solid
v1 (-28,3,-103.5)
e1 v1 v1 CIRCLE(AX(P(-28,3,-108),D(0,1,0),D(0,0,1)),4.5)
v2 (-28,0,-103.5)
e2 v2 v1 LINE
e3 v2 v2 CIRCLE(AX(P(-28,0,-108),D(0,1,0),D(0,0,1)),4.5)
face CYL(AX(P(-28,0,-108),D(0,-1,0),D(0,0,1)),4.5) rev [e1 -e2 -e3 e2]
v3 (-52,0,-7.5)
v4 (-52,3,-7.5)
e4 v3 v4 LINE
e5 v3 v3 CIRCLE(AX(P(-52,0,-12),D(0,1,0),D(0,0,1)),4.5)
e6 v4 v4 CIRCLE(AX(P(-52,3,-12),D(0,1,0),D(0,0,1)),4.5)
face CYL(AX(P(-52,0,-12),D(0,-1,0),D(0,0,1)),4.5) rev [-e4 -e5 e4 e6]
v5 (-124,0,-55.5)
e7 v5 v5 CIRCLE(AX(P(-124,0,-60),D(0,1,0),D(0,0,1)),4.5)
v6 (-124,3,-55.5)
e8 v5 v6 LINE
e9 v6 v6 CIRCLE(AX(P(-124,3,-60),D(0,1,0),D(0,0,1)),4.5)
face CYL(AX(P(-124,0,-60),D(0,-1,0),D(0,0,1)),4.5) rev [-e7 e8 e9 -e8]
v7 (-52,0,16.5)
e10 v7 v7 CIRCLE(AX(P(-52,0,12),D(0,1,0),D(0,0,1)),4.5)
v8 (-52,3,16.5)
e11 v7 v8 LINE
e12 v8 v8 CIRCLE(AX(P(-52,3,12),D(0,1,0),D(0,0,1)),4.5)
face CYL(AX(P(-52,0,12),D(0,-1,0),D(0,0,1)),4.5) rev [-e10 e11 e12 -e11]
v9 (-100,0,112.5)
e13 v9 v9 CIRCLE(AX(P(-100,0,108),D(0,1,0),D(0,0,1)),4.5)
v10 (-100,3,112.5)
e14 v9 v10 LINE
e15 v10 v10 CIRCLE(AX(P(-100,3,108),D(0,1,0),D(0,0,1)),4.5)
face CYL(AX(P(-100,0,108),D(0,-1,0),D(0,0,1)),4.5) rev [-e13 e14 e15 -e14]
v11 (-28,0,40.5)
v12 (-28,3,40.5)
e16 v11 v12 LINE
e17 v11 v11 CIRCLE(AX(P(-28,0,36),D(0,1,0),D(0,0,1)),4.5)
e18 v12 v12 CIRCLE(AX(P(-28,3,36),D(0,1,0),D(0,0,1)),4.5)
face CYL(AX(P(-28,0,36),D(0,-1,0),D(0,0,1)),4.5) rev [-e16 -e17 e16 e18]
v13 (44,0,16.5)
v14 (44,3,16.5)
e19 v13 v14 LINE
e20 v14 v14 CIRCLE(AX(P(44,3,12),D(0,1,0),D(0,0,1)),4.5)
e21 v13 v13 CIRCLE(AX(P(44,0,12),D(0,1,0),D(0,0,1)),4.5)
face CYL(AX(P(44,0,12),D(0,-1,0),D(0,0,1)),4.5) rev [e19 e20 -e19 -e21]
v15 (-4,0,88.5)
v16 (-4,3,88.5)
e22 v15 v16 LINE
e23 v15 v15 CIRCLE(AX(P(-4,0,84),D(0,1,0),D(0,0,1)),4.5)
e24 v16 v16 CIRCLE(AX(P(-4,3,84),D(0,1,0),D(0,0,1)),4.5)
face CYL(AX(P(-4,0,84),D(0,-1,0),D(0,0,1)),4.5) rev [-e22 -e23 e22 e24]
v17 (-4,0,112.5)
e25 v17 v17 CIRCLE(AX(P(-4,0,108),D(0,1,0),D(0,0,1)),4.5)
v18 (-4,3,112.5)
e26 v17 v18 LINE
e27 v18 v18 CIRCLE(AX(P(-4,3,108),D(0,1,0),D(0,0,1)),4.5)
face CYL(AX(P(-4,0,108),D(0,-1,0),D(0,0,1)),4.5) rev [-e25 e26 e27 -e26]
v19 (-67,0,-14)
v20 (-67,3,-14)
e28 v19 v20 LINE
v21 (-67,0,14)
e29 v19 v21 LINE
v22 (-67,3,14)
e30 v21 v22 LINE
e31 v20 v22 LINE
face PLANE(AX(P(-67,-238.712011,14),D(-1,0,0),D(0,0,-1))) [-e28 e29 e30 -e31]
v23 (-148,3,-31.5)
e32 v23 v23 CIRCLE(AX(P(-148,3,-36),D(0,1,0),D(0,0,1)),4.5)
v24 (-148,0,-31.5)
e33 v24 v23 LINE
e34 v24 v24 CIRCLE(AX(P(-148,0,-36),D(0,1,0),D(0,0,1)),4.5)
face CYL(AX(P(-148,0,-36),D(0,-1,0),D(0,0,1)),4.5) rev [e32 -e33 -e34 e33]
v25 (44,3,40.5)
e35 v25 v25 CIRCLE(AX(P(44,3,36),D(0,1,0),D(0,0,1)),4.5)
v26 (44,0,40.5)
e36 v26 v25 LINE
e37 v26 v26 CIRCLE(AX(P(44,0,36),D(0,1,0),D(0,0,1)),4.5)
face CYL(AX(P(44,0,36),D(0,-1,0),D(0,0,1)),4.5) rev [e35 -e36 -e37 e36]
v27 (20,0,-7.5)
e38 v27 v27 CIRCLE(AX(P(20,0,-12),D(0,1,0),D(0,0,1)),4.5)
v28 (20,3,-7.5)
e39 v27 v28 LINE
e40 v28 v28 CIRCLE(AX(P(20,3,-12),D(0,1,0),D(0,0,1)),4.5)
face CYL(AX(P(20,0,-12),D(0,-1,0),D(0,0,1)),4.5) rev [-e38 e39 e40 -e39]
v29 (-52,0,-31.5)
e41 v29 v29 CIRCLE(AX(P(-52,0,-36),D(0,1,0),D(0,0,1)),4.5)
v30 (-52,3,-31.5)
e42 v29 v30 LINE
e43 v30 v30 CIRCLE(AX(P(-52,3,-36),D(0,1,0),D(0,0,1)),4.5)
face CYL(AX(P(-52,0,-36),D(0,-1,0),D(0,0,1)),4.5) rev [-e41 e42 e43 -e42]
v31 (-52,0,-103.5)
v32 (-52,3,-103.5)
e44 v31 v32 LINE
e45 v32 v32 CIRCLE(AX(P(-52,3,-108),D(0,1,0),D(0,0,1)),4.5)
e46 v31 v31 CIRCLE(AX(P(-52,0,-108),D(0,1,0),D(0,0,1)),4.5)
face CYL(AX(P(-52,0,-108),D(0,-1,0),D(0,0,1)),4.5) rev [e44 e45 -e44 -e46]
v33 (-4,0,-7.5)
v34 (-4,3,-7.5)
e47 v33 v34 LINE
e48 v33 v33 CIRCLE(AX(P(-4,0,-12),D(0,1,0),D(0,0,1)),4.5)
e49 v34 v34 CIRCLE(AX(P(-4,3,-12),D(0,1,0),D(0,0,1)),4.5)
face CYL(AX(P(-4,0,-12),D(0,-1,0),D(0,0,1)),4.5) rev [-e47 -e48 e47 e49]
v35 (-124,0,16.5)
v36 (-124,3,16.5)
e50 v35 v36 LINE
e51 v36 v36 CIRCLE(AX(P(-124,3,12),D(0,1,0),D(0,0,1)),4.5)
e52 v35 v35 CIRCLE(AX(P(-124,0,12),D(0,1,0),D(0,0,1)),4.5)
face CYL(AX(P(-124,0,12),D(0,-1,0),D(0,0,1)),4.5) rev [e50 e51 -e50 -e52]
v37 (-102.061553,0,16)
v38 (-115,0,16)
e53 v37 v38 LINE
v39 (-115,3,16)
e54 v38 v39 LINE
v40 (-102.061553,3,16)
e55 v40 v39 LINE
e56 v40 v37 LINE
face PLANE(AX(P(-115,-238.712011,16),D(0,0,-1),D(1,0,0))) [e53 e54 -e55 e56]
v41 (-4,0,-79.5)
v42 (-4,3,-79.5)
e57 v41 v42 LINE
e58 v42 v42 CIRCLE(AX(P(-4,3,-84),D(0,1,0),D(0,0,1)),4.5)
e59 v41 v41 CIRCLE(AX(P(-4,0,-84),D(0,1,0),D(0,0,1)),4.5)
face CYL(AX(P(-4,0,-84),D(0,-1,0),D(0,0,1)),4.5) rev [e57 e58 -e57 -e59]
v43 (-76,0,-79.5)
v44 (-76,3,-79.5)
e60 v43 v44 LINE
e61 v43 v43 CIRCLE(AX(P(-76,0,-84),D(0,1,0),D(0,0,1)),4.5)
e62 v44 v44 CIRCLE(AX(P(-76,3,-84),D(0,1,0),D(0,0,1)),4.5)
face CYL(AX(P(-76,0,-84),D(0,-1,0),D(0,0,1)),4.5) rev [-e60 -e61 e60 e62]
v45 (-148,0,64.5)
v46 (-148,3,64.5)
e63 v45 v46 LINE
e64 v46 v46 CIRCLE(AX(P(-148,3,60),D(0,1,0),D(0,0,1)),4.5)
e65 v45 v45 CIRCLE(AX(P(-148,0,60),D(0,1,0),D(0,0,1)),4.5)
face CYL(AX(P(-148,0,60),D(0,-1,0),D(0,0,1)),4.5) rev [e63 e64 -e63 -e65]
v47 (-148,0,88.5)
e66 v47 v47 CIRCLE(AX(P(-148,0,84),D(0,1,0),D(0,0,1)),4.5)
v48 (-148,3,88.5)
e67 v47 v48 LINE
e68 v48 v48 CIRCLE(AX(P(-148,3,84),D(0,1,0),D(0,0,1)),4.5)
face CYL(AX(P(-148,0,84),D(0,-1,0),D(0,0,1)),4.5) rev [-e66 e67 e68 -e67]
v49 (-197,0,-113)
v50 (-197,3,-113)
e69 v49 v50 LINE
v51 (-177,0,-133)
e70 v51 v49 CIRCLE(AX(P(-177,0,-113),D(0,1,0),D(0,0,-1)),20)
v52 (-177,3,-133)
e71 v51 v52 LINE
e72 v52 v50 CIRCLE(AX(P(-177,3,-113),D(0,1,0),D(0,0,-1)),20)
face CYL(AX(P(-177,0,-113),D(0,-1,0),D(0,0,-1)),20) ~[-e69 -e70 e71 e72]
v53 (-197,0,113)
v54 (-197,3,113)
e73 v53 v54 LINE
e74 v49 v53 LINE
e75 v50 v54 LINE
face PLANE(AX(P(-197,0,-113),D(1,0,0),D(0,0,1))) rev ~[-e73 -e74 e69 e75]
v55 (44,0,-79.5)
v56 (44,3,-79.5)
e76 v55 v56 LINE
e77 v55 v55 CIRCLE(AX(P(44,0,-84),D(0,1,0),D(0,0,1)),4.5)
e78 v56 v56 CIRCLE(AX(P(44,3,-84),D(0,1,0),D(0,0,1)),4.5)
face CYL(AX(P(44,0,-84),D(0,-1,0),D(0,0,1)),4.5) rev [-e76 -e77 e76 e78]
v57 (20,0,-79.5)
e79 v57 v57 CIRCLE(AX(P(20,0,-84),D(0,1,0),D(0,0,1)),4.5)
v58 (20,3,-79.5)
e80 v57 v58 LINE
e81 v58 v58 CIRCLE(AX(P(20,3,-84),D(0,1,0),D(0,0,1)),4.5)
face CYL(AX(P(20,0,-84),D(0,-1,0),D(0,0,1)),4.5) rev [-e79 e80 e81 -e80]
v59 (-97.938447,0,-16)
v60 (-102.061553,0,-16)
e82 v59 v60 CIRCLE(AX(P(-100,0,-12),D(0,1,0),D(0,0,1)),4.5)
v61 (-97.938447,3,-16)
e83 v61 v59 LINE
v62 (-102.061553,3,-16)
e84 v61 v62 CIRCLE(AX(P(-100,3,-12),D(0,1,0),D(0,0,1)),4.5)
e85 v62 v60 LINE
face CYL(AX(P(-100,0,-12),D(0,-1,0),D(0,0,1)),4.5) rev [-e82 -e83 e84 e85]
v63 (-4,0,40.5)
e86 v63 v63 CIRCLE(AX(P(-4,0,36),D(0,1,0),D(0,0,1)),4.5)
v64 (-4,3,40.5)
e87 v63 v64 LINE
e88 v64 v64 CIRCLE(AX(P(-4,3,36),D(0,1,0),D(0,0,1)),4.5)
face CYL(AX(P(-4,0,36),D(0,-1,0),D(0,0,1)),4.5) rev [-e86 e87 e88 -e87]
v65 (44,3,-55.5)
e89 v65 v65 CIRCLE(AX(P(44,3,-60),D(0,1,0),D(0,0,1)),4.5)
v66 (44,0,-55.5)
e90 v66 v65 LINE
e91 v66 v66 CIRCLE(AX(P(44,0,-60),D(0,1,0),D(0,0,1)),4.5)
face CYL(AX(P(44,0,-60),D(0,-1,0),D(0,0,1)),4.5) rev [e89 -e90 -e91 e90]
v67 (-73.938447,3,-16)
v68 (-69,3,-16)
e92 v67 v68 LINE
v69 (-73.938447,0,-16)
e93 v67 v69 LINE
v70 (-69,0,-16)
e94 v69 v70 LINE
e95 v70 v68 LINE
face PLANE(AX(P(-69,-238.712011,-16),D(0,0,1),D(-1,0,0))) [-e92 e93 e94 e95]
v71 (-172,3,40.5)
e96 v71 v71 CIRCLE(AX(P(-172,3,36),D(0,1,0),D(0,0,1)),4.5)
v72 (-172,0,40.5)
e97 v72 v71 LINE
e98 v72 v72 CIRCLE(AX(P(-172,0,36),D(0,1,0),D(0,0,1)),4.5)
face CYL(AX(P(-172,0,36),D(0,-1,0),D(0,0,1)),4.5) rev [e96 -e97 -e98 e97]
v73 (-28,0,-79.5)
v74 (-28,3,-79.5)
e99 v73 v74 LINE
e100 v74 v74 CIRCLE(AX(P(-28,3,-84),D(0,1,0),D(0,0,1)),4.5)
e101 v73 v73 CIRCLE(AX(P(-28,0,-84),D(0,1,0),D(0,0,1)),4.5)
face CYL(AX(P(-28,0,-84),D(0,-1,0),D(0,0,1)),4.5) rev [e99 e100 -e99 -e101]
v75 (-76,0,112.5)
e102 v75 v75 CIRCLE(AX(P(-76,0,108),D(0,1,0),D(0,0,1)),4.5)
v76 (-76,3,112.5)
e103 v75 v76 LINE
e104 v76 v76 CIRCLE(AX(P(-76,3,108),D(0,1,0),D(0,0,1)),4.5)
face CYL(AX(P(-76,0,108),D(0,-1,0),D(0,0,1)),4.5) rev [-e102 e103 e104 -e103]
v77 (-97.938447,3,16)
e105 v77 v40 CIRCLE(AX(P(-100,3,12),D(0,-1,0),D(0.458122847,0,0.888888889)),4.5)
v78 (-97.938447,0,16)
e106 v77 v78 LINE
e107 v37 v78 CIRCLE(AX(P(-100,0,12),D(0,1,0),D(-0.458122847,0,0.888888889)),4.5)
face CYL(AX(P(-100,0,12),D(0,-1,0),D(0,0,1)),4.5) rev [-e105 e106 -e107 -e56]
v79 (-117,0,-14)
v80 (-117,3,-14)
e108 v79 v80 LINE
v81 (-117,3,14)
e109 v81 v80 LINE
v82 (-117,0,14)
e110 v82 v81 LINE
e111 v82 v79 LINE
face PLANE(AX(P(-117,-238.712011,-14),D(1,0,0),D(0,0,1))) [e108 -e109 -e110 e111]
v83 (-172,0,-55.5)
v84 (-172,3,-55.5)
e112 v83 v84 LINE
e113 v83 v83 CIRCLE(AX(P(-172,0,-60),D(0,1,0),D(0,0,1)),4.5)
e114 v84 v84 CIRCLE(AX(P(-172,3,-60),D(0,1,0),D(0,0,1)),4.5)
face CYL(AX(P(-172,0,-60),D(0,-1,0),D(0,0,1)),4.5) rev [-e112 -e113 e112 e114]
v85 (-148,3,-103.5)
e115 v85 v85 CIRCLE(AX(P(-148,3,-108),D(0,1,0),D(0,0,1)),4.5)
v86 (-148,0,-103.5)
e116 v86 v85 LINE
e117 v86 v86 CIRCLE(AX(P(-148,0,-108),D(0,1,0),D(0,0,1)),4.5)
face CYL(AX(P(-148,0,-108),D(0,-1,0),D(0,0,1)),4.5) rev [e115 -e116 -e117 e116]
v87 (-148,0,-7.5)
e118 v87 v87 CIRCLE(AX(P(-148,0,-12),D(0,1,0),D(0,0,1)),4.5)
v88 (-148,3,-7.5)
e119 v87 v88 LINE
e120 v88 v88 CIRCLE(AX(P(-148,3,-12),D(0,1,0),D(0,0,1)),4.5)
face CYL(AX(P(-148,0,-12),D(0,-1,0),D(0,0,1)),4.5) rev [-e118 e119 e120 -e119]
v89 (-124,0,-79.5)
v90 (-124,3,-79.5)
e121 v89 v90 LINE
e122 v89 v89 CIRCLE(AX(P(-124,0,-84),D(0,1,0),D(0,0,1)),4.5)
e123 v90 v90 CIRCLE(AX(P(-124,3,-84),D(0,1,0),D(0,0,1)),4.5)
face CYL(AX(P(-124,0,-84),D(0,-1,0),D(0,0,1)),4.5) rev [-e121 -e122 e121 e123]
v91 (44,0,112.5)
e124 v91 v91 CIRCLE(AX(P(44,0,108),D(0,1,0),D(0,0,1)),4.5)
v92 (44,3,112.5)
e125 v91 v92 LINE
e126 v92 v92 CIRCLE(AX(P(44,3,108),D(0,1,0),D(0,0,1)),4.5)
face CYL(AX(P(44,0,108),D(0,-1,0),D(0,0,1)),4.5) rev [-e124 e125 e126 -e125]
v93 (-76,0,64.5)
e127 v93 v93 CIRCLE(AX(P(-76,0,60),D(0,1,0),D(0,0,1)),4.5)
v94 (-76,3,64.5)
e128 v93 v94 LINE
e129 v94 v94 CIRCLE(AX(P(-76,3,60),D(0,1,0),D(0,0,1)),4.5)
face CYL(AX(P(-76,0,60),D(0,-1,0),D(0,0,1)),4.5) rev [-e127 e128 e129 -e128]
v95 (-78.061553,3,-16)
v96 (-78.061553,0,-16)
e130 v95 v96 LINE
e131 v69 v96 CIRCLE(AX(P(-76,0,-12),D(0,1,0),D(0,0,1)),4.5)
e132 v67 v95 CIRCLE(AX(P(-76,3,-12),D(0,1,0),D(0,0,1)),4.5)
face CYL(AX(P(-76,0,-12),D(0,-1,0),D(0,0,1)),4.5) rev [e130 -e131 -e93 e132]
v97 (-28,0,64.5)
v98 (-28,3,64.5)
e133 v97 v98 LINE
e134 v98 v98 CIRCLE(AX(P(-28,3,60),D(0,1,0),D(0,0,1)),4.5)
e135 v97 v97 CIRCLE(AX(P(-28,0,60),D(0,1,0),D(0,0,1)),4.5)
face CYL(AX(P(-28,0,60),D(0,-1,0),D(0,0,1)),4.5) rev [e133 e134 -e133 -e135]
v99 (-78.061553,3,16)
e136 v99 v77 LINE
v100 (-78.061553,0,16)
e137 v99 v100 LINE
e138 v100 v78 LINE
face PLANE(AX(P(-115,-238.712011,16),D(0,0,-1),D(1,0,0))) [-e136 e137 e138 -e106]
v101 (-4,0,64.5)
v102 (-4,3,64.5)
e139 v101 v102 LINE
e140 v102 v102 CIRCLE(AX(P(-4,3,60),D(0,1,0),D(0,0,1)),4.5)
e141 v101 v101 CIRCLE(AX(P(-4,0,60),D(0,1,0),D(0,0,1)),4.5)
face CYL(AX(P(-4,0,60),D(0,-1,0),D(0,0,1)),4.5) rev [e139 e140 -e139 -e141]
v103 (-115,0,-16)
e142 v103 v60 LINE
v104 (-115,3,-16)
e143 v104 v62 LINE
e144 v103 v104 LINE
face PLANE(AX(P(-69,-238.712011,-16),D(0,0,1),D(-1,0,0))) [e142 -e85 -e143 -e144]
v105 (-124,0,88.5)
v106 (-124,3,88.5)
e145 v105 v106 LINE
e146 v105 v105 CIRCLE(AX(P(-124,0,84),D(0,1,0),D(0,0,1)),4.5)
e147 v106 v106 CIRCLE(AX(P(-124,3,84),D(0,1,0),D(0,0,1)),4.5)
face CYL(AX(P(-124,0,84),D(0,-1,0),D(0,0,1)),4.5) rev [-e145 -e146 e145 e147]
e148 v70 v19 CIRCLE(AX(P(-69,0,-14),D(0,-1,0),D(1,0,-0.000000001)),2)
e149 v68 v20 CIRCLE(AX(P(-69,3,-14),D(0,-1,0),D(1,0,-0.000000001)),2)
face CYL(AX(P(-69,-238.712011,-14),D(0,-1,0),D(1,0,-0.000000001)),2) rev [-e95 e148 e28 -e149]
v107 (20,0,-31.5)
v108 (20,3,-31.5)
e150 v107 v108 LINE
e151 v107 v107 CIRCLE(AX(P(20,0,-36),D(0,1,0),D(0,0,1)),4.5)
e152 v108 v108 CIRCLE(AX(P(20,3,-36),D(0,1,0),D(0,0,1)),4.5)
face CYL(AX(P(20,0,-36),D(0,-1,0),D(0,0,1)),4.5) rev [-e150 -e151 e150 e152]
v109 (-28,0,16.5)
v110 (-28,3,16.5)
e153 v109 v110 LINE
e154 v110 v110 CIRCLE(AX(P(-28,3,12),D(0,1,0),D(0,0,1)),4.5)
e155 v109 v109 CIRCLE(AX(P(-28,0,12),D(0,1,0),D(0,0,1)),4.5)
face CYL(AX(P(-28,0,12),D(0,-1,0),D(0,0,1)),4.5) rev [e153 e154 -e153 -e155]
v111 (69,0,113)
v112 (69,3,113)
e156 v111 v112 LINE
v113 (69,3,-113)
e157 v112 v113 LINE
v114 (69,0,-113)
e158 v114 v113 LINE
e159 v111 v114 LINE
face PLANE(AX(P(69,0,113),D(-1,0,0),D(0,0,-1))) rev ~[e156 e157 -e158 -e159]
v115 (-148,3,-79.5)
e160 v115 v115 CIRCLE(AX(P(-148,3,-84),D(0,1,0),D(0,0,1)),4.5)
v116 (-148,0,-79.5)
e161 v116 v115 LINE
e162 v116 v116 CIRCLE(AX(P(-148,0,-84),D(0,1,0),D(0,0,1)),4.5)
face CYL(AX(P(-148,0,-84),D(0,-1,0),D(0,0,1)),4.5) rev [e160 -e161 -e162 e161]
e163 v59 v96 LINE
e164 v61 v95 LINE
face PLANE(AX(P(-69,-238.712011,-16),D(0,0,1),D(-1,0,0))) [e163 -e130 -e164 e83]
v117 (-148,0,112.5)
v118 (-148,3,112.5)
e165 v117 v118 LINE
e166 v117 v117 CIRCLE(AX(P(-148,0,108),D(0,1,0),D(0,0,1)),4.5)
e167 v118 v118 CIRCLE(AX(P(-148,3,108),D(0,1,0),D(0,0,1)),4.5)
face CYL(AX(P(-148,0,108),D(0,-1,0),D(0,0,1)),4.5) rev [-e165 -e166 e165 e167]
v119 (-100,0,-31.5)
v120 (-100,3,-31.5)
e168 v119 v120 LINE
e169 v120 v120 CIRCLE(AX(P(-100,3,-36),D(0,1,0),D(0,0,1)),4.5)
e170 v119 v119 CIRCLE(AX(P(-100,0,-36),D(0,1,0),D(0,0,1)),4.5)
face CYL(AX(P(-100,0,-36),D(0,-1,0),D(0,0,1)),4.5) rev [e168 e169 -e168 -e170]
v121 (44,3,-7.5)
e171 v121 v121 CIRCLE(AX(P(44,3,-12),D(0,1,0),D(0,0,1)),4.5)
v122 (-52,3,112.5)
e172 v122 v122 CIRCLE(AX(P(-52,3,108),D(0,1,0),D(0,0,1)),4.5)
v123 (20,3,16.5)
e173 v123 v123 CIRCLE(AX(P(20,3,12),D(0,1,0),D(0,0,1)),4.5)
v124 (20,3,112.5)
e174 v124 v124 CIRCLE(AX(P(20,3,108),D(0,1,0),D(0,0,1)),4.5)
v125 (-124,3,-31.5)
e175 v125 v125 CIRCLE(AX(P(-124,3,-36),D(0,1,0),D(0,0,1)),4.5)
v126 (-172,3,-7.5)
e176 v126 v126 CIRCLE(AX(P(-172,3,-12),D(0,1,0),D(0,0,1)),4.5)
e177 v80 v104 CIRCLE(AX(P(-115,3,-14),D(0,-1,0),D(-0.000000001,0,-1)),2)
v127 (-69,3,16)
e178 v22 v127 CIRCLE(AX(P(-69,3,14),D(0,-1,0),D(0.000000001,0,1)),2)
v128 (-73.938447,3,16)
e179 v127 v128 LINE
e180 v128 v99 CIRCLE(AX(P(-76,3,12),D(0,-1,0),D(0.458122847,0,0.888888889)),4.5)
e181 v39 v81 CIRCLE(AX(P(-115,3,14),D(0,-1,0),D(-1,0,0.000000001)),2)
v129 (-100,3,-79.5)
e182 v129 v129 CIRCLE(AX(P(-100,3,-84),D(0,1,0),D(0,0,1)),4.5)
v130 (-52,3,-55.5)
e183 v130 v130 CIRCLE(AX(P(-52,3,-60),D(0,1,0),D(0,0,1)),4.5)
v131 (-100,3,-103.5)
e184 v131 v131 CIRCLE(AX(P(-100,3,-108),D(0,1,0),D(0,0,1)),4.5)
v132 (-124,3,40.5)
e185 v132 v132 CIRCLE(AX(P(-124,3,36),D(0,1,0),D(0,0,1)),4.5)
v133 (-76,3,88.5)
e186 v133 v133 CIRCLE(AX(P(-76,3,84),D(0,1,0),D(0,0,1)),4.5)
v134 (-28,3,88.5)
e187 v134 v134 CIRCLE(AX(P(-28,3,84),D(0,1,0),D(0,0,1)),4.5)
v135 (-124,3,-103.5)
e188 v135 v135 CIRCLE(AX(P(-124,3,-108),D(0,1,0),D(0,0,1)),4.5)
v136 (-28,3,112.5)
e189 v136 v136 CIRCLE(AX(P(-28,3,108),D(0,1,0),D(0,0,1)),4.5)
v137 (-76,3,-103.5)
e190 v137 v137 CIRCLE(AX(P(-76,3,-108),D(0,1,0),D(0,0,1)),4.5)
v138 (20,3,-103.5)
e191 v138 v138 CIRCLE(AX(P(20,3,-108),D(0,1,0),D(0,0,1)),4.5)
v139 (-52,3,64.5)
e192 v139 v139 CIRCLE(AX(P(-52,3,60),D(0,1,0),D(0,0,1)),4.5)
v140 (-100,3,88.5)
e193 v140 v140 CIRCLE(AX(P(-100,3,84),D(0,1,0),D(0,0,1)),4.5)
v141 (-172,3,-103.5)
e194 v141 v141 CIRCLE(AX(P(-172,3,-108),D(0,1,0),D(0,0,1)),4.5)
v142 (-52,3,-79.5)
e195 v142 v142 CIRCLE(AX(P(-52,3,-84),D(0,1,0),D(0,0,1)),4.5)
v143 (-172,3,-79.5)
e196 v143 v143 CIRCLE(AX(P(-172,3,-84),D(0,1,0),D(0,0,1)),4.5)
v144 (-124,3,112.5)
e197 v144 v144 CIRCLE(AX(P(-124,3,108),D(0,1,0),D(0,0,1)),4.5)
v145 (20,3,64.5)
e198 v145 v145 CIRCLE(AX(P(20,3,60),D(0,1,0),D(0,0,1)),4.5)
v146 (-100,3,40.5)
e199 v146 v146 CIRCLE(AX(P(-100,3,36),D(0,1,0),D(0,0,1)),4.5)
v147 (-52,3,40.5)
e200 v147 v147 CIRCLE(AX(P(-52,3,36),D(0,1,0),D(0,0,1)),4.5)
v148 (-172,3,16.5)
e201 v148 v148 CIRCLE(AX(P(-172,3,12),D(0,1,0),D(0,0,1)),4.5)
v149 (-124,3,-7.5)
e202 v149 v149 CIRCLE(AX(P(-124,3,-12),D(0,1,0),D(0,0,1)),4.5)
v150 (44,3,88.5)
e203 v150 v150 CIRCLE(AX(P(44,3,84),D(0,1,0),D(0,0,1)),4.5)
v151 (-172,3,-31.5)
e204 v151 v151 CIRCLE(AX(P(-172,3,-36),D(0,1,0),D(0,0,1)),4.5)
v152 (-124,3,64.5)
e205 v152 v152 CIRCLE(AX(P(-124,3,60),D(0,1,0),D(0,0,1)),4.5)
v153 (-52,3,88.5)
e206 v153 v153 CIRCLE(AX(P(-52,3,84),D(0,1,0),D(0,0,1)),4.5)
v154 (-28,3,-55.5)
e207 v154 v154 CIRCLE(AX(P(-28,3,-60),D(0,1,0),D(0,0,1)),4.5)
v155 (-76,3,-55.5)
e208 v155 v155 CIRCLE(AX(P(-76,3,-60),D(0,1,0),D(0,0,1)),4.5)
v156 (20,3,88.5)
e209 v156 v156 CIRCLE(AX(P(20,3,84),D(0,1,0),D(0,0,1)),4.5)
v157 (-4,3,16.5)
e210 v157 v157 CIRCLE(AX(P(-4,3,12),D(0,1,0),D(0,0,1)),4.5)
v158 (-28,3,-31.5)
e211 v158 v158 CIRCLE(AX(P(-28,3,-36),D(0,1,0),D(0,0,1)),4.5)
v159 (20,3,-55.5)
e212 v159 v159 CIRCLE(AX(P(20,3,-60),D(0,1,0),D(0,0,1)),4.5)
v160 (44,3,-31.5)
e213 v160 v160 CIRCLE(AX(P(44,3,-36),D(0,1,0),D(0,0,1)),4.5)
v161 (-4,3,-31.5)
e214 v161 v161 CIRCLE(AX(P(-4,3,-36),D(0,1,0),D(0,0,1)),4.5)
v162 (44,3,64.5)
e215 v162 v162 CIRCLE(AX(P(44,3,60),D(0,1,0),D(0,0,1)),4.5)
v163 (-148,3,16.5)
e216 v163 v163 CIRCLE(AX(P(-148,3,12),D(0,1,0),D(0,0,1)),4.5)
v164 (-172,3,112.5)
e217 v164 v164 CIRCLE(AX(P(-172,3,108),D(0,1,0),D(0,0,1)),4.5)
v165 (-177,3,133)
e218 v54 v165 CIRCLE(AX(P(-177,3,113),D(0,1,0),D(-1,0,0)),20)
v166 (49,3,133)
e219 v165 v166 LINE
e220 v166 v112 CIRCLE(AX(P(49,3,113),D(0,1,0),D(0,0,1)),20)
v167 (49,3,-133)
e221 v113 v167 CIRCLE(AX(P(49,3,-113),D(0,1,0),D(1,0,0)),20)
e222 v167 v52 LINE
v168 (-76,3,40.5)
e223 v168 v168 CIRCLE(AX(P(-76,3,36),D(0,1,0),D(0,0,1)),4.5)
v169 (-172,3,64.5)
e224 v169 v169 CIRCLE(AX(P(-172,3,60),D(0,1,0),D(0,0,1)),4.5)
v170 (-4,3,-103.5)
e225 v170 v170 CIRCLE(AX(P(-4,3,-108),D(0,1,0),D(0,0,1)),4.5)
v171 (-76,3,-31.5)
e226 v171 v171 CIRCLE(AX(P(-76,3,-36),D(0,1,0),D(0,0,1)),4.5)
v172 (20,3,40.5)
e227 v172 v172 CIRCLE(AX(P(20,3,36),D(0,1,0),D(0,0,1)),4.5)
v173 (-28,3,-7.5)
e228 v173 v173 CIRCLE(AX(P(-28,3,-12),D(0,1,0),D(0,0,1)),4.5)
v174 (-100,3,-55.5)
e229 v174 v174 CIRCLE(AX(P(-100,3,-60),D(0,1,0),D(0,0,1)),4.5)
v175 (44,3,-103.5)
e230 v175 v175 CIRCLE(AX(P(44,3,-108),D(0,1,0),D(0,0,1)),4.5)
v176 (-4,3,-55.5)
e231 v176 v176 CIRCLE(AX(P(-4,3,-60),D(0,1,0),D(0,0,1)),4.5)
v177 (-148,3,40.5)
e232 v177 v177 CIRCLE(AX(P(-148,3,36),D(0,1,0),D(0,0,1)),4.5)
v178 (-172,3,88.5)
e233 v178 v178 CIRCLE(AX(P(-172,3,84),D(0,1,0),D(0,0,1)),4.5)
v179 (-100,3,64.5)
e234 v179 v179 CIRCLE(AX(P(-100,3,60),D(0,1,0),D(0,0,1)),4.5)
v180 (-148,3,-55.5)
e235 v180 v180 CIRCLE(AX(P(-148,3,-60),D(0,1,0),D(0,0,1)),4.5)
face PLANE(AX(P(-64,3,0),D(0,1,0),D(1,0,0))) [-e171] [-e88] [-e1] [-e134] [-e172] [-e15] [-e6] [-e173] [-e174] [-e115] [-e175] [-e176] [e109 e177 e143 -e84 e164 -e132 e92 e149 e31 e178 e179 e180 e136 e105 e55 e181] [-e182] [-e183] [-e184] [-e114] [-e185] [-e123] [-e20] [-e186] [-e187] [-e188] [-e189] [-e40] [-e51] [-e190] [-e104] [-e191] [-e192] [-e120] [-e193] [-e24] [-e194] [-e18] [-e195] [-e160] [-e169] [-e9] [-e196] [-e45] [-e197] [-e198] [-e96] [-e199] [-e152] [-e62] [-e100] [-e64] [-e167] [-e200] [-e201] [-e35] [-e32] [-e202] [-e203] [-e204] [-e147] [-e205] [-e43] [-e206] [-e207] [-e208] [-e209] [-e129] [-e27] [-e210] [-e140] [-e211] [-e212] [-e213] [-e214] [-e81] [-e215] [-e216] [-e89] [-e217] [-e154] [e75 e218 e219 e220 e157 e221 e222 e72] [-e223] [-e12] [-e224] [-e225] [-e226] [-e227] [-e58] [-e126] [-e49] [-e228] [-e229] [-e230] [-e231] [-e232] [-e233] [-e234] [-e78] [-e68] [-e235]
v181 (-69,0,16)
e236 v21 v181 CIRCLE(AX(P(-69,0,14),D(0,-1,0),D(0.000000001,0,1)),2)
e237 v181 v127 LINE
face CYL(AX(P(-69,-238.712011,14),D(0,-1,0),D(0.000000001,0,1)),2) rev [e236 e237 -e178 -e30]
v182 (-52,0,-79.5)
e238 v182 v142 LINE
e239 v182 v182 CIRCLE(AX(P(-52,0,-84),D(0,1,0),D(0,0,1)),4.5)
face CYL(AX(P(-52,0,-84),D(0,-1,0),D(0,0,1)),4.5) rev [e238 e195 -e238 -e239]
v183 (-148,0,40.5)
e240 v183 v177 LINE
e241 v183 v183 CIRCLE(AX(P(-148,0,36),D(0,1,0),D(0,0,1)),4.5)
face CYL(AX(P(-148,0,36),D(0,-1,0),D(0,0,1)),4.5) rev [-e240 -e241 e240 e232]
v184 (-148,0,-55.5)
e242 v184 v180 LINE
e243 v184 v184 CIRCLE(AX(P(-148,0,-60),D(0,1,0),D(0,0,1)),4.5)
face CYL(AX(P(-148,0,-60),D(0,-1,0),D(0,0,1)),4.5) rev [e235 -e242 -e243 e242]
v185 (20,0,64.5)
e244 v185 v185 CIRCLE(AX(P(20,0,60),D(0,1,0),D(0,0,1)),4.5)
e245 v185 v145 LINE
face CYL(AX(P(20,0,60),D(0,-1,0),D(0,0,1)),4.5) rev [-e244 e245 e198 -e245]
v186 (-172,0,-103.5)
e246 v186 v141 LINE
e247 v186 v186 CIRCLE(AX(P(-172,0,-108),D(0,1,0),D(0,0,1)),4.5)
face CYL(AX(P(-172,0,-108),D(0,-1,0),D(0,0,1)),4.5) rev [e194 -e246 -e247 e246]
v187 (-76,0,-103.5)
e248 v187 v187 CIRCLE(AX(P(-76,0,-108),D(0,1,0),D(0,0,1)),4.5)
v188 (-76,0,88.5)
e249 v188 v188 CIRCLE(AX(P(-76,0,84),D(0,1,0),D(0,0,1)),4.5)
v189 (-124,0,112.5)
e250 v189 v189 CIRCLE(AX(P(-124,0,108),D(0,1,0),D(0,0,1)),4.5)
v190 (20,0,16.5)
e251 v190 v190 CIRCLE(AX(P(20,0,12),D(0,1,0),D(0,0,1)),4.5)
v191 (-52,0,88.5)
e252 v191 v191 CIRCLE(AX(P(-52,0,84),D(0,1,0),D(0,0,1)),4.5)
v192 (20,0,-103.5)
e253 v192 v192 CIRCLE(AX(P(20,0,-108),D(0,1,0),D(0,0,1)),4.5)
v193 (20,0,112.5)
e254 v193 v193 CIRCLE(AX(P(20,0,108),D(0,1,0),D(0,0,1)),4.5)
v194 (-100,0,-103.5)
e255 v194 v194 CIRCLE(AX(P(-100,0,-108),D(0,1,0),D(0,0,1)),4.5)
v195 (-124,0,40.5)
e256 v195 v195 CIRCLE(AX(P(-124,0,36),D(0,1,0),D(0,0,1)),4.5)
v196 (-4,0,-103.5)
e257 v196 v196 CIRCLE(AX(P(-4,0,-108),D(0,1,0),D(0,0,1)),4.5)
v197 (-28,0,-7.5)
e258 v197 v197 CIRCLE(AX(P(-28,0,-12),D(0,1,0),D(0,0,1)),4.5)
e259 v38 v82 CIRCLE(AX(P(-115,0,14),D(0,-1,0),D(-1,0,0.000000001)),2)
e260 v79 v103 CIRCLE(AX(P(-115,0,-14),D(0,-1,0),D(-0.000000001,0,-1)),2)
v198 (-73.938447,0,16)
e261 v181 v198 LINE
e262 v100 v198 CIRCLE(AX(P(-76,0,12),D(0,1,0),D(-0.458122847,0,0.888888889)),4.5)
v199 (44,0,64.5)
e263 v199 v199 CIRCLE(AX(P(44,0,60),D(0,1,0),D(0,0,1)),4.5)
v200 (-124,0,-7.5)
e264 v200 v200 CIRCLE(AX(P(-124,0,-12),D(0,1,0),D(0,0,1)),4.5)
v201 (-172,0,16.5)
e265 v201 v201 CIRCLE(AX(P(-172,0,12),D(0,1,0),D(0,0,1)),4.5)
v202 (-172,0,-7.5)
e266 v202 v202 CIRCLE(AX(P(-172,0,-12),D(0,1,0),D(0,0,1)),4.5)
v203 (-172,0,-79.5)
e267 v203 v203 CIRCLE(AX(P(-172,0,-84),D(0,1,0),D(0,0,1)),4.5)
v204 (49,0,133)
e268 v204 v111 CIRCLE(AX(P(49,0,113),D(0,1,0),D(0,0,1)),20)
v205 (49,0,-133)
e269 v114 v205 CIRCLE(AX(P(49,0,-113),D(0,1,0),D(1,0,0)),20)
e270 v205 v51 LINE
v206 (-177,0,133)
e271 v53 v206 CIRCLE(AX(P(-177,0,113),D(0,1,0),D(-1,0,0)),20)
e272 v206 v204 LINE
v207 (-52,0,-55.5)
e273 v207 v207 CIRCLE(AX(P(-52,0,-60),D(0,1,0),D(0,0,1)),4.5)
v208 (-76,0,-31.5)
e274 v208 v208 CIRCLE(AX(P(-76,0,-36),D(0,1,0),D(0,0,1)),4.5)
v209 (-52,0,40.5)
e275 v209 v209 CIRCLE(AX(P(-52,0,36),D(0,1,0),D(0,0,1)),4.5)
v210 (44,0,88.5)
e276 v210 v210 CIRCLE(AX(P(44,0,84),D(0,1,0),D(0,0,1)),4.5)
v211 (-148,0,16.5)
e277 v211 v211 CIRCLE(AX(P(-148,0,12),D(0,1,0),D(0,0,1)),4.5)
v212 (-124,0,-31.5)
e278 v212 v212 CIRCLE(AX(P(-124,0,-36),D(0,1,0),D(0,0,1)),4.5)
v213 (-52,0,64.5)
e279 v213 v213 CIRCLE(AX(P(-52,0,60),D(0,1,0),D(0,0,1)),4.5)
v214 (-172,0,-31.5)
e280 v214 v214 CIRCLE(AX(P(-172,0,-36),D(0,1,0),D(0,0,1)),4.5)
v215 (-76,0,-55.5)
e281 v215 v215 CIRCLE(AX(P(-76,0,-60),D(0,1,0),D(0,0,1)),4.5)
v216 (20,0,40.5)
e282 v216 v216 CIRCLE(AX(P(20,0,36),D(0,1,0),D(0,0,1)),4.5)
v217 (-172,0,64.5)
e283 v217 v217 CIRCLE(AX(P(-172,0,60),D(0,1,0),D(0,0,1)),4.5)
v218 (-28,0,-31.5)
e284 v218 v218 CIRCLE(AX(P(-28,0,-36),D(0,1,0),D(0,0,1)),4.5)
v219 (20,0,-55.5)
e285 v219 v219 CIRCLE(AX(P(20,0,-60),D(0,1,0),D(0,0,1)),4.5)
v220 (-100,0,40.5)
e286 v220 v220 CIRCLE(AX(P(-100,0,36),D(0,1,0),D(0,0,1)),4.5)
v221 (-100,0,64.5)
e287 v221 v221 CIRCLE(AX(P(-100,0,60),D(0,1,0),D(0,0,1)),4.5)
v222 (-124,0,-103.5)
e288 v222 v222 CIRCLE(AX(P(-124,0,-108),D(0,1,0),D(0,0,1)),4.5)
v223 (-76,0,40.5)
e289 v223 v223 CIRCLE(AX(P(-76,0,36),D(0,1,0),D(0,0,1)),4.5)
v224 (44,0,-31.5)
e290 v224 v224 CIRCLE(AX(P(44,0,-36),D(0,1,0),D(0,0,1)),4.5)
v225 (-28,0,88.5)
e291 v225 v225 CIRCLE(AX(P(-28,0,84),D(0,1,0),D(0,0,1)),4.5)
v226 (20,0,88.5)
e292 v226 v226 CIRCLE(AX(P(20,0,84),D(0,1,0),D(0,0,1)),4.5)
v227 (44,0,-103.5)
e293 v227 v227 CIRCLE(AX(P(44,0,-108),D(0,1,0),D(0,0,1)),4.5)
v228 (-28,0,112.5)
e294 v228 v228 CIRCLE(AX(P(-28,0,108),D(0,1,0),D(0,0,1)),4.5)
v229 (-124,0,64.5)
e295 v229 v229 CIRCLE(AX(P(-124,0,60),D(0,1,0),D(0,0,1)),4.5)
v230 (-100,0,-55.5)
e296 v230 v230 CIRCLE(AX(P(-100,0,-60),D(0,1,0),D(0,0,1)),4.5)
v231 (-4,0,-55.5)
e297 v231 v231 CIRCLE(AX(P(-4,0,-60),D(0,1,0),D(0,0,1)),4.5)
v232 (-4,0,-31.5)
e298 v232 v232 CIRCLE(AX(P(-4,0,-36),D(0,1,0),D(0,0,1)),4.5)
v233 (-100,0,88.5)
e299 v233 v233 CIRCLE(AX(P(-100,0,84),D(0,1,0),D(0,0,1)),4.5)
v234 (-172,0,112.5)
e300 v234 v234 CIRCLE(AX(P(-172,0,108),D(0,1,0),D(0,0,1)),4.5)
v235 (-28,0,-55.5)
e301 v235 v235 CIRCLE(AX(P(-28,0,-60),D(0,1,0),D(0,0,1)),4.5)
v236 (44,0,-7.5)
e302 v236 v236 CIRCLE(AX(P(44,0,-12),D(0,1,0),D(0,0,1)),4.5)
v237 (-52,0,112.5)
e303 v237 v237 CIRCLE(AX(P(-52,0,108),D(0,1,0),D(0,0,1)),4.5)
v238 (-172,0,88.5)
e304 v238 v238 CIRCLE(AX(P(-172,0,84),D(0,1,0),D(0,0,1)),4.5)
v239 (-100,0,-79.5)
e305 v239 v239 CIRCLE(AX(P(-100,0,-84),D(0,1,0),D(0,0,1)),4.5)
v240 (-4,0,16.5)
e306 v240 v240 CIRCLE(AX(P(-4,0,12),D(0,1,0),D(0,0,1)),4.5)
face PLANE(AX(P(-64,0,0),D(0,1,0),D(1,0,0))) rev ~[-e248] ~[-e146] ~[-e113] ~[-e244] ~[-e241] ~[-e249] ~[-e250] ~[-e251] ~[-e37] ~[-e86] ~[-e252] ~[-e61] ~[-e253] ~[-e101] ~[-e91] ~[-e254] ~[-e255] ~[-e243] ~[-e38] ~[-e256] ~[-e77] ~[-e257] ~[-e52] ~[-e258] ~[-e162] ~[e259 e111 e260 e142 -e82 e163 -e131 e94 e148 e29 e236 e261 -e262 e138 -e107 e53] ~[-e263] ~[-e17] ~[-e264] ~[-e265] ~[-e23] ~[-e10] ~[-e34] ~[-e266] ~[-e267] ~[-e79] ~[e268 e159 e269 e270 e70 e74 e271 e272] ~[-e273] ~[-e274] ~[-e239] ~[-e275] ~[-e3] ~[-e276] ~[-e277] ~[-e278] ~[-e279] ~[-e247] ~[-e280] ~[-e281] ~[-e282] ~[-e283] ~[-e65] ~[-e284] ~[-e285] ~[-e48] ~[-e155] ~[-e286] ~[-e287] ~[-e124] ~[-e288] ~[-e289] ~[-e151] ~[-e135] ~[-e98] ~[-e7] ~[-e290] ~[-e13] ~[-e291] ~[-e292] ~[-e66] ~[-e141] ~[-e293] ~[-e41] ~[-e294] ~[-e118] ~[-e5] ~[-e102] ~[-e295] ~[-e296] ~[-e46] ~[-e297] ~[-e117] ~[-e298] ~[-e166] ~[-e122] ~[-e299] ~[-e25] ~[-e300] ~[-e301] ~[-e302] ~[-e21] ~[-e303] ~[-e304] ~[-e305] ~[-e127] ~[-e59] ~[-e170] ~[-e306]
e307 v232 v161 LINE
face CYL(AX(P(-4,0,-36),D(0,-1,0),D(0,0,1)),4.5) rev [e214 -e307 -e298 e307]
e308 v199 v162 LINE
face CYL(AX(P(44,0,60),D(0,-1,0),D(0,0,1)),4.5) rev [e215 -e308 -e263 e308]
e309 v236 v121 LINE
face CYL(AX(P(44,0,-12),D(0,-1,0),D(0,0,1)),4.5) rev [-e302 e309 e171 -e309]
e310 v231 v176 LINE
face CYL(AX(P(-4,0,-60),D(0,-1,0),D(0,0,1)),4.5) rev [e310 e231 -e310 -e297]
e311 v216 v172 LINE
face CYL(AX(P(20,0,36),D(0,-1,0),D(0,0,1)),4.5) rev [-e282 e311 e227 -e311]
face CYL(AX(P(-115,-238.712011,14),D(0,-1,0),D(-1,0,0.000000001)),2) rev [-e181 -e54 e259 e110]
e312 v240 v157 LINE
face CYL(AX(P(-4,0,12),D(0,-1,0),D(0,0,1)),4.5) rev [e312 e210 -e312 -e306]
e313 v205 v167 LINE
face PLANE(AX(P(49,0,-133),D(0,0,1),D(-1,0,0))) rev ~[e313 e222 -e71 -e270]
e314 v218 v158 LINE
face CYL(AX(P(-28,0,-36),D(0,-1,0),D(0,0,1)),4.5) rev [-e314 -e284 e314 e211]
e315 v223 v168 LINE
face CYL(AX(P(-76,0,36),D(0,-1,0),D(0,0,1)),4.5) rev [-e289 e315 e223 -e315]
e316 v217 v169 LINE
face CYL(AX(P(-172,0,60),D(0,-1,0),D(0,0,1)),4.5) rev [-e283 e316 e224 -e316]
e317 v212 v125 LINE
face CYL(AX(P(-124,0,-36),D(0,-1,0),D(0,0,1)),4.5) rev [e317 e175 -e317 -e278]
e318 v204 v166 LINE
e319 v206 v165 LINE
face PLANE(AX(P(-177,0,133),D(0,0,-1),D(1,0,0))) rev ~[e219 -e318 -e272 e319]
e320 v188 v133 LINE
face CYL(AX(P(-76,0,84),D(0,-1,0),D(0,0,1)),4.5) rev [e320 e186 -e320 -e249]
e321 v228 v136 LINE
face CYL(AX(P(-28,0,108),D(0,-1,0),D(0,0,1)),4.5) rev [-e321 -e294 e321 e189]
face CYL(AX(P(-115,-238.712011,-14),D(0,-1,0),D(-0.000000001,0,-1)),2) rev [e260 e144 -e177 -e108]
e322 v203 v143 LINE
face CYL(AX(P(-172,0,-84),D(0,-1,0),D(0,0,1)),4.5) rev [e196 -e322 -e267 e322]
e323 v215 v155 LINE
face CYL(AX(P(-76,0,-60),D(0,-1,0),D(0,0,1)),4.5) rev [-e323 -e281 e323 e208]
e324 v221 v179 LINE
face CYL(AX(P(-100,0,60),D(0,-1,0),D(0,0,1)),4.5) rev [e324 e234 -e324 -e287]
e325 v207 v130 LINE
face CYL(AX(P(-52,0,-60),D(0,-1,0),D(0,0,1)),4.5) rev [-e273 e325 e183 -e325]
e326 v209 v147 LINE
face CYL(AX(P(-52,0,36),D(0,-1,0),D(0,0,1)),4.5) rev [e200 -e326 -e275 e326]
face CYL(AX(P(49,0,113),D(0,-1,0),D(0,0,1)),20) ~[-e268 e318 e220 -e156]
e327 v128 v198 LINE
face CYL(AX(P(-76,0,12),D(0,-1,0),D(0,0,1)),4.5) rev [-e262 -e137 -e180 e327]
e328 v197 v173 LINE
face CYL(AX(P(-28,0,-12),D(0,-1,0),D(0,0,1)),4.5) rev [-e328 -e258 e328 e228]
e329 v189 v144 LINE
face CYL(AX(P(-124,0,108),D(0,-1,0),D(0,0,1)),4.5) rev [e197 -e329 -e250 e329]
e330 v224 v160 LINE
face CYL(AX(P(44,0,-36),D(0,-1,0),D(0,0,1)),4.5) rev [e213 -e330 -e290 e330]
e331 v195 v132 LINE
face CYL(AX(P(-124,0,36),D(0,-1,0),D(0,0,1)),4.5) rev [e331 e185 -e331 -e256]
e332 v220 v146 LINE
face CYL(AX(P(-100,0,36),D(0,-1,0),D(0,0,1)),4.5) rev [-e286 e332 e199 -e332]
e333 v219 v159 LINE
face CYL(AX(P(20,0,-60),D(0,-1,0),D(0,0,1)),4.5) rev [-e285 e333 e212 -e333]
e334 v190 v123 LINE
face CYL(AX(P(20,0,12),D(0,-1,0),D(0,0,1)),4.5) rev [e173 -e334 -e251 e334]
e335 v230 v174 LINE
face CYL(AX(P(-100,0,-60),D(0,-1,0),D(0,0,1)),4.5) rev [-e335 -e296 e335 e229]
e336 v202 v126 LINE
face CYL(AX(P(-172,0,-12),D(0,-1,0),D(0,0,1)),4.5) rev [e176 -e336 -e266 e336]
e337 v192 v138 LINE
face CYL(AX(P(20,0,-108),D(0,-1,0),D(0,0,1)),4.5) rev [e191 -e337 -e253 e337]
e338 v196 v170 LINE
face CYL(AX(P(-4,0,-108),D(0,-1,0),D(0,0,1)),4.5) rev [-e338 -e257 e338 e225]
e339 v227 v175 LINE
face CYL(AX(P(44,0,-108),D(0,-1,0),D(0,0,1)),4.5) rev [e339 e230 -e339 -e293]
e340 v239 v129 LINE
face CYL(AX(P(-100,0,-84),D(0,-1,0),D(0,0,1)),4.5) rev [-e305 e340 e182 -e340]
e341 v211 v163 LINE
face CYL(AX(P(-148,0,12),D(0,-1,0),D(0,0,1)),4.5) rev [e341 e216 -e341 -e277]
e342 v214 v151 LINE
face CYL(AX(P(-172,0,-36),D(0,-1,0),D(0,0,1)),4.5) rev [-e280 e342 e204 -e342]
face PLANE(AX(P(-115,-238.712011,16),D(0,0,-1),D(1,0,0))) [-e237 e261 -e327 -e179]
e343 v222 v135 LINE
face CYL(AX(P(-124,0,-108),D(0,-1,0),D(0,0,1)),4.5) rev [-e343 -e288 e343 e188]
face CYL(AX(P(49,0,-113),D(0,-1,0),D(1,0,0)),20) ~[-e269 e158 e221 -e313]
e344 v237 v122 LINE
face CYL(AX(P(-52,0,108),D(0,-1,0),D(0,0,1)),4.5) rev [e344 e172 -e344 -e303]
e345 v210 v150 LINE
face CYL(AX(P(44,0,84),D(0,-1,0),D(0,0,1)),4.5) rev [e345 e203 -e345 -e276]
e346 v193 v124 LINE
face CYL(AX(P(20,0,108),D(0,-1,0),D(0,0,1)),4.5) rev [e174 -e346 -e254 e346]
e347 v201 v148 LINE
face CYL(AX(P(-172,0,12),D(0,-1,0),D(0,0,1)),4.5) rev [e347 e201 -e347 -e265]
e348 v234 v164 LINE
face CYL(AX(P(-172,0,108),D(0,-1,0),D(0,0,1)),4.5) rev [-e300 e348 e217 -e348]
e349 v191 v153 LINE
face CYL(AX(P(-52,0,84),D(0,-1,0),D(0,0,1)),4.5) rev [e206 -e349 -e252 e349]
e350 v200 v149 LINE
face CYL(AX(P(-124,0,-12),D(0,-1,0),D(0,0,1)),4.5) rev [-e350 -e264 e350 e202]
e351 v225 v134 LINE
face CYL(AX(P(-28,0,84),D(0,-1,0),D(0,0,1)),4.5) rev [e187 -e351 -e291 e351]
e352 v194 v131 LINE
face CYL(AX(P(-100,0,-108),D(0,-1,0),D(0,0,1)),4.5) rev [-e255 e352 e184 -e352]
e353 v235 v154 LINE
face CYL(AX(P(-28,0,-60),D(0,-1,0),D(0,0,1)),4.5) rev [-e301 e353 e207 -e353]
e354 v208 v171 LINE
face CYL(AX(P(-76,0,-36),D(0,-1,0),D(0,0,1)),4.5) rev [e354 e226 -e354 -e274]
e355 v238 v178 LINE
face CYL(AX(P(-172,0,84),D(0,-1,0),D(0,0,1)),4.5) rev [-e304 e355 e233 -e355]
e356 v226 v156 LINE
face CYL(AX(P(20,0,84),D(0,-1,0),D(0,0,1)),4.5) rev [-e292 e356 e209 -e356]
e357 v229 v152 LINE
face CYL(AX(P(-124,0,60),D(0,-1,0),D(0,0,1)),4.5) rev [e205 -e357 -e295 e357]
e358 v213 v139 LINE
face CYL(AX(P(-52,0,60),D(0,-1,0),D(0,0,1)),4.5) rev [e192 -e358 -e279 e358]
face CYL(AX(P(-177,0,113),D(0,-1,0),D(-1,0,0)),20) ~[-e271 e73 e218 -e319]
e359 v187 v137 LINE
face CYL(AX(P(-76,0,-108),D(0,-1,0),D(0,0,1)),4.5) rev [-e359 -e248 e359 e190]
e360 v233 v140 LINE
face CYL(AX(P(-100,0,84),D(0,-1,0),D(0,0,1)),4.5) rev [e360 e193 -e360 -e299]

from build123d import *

# Parameters (mm, degrees)
SK_1_R                = 4.5
WAFFLE_PLATE_DEPTH    = 3
ARM_CUTOUT_DEPTH      = 238.712010635
ARM_CUTOUT_DEPTH_BACK = 238.712010635


with BuildPart() as part:
    # SK_1 → Waffle_Plate (new body)
    with BuildSketch(Plane(origin=(0, 0, 0), x_dir=(1, 0, 0), z_dir=(0, 1, 0))):
        with BuildLine():
            Line((-177, -133), (49, -133))
            ThreePointArc((49, -133), (63.142135624, -127.142135624), (69, -113))
            Line((69, -113), (69, 113))
            ThreePointArc((69, 113), (63.142135624, 127.142135624), (49, 133))
            Line((49, 133), (-177, 133))
            ThreePointArc((-177, 133), (-191.142135624, 127.142135624), (-197, 113))
            Line((-197, 113), (-197, -113))
            ThreePointArc((-197, -113), (-191.142135624, -127.142135624), (-177, -133))
        make_face()
        with Locations(Location((-172, -108, 0), (0, 0, 270))):
            Circle(SK_1_R, mode=Mode.SUBTRACT)
        with Locations(Location((-148, -108, 0), (0, 0, 270))):
            Circle(SK_1_R, mode=Mode.SUBTRACT)
        with Locations(Location((-124, -108, 0), (0, 0, 270))):
            Circle(SK_1_R, mode=Mode.SUBTRACT)
        with Locations(Location((-100, -108, 0), (0, 0, 270))):
            Circle(SK_1_R, mode=Mode.SUBTRACT)
        with Locations(Location((-76, -108, 0), (0, 0, 270))):
            Circle(SK_1_R, mode=Mode.SUBTRACT)
        with Locations(Location((-52, -108, 0), (0, 0, 270))):
            Circle(SK_1_R, mode=Mode.SUBTRACT)
        with Locations(Location((-28, -108, 0), (0, 0, 270))):
            Circle(SK_1_R, mode=Mode.SUBTRACT)
        with Locations(Location((-4, -108, 0), (0, 0, 270))):
            Circle(SK_1_R, mode=Mode.SUBTRACT)
        with Locations(Location((20, -108, 0), (0, 0, 270))):
            Circle(SK_1_R, mode=Mode.SUBTRACT)
        with Locations(Location((44, -108, 0), (0, 0, 270))):
            Circle(SK_1_R, mode=Mode.SUBTRACT)
        with Locations(Location((-148, -84, 0), (0, 0, 270))):
            Circle(SK_1_R, mode=Mode.SUBTRACT)
        with Locations(Location((-124, -84, 0), (0, 0, 270))):
            Circle(SK_1_R, mode=Mode.SUBTRACT)
        with Locations(Location((-100, -84, 0), (0, 0, 270))):
            Circle(SK_1_R, mode=Mode.SUBTRACT)
        with Locations(Location((-76, -84, 0), (0, 0, 270))):
            Circle(SK_1_R, mode=Mode.SUBTRACT)
        with Locations(Location((-52, -84, 0), (0, 0, 270))):
            Circle(SK_1_R, mode=Mode.SUBTRACT)
        with Locations(Location((-28, -84, 0), (0, 0, 270))):
            Circle(SK_1_R, mode=Mode.SUBTRACT)
        with Locations(Location((-4, -84, 0), (0, 0, 270))):
            Circle(SK_1_R, mode=Mode.SUBTRACT)
        with Locations(Location((20, -84, 0), (0, 0, 270))):
            Circle(SK_1_R, mode=Mode.SUBTRACT)
        with Locations(Location((44, -84, 0), (0, 0, 270))):
            Circle(SK_1_R, mode=Mode.SUBTRACT)
        with Locations(Location((-148, -60, 0), (0, 0, 270))):
            Circle(SK_1_R, mode=Mode.SUBTRACT)
        with Locations(Location((-124, -60, 0), (0, 0, 270))):
            Circle(SK_1_R, mode=Mode.SUBTRACT)
        with Locations(Location((-100, -60, 0), (0, 0, 270))):
            Circle(SK_1_R, mode=Mode.SUBTRACT)
        with Locations(Location((-76, -60, 0), (0, 0, 270))):
            Circle(SK_1_R, mode=Mode.SUBTRACT)
        with Locations(Location((-52, -60, 0), (0, 0, 270))):
            Circle(SK_1_R, mode=Mode.SUBTRACT)
        with Locations(Location((-28, -60, 0), (0, 0, 270))):
            Circle(SK_1_R, mode=Mode.SUBTRACT)
        with Locations(Location((-4, -60, 0), (0, 0, 270))):
            Circle(SK_1_R, mode=Mode.SUBTRACT)
        with Locations(Location((20, -60, 0), (0, 0, 270))):
            Circle(SK_1_R, mode=Mode.SUBTRACT)
        with Locations(Location((44, -60, 0), (0, 0, 270))):
            Circle(SK_1_R, mode=Mode.SUBTRACT)
        with Locations(Location((-148, -36, 0), (0, 0, 270))):
            Circle(SK_1_R, mode=Mode.SUBTRACT)
        with Locations(Location((-124, -36, 0), (0, 0, 270))):
            Circle(SK_1_R, mode=Mode.SUBTRACT)
        with Locations(Location((-100, -36, 0), (0, 0, 270))):
            Circle(SK_1_R, mode=Mode.SUBTRACT)
        with Locations(Location((-76, -36, 0), (0, 0, 270))):
            Circle(SK_1_R, mode=Mode.SUBTRACT)
        with Locations(Location((-52, -36, 0), (0, 0, 270))):
            Circle(SK_1_R, mode=Mode.SUBTRACT)
        with Locations(Location((-28, -36, 0), (0, 0, 270))):
            Circle(SK_1_R, mode=Mode.SUBTRACT)
        with Locations(Location((-4, -36, 0), (0, 0, 270))):
            Circle(SK_1_R, mode=Mode.SUBTRACT)
        with Locations(Location((20, -36, 0), (0, 0, 270))):
            Circle(SK_1_R, mode=Mode.SUBTRACT)
        with Locations(Location((44, -36, 0), (0, 0, 270))):
            Circle(SK_1_R, mode=Mode.SUBTRACT)
        with Locations(Location((-148, -12, 0), (0, 0, 270))):
            Circle(SK_1_R, mode=Mode.SUBTRACT)
        with Locations(Location((-124, -12, 0), (0, 0, 270))):
            Circle(SK_1_R, mode=Mode.SUBTRACT)
        with Locations(Location((-100, -12, 0), (0, 0, 270))):
            Circle(SK_1_R, mode=Mode.SUBTRACT)
        with Locations(Location((-76, -12, 0), (0, 0, 270))):
            Circle(SK_1_R, mode=Mode.SUBTRACT)
        with Locations(Location((-52, -12, 0), (0, 0, 270))):
            Circle(SK_1_R, mode=Mode.SUBTRACT)
        with Locations(Location((-28, -12, 0), (0, 0, 270))):
            Circle(SK_1_R, mode=Mode.SUBTRACT)
        with Locations(Location((-4, -12, 0), (0, 0, 270))):
            Circle(SK_1_R, mode=Mode.SUBTRACT)
        with Locations(Location((20, -12, 0), (0, 0, 270))):
            Circle(SK_1_R, mode=Mode.SUBTRACT)
        with Locations(Location((44, -12, 0), (0, 0, 270))):
            Circle(SK_1_R, mode=Mode.SUBTRACT)
        with Locations(Location((-148, 12, 0), (0, 0, 270))):
            Circle(SK_1_R, mode=Mode.SUBTRACT)
        with Locations(Location((-124, 12, 0), (0, 0, 270))):
            Circle(SK_1_R, mode=Mode.SUBTRACT)
        with Locations(Location((-100, 12, 0), (0, 0, 270))):
            Circle(SK_1_R, mode=Mode.SUBTRACT)
        with Locations(Location((-76, 12, 0), (0, 0, 270))):
            Circle(SK_1_R, mode=Mode.SUBTRACT)
        with Locations(Location((-52, 12, 0), (0, 0, 270))):
            Circle(SK_1_R, mode=Mode.SUBTRACT)
        with Locations(Location((-28, 12, 0), (0, 0, 270))):
            Circle(SK_1_R, mode=Mode.SUBTRACT)
        with Locations(Location((-4, 12, 0), (0, 0, 270))):
            Circle(SK_1_R, mode=Mode.SUBTRACT)
        with Locations(Location((20, 12, 0), (0, 0, 270))):
            Circle(SK_1_R, mode=Mode.SUBTRACT)
        with Locations(Location((44, 12, 0), (0, 0, 270))):
            Circle(SK_1_R, mode=Mode.SUBTRACT)
        with Locations(Location((-148, 36, 0), (0, 0, 270))):
            Circle(SK_1_R, mode=Mode.SUBTRACT)
        with Locations(Location((-124, 36, 0), (0, 0, 270))):
            Circle(SK_1_R, mode=Mode.SUBTRACT)
        with Locations(Location((-100, 36, 0), (0, 0, 270))):
            Circle(SK_1_R, mode=Mode.SUBTRACT)
        with Locations(Location((-76, 36, 0), (0, 0, 270))):
            Circle(SK_1_R, mode=Mode.SUBTRACT)
        with Locations(Location((-52, 36, 0), (0, 0, 270))):
            Circle(SK_1_R, mode=Mode.SUBTRACT)
        with Locations(Location((-28, 36, 0), (0, 0, 270))):
            Circle(SK_1_R, mode=Mode.SUBTRACT)
        with Locations(Location((-4, 36, 0), (0, 0, 270))):
            Circle(SK_1_R, mode=Mode.SUBTRACT)
        with Locations(Location((20, 36, 0), (0, 0, 270))):
            Circle(SK_1_R, mode=Mode.SUBTRACT)
        with Locations(Location((44, 36, 0), (0, 0, 270))):
            Circle(SK_1_R, mode=Mode.SUBTRACT)
        with Locations(Location((-148, 60, 0), (0, 0, 270))):
            Circle(SK_1_R, mode=Mode.SUBTRACT)
        with Locations(Location((-124, 60, 0), (0, 0, 270))):
            Circle(SK_1_R, mode=Mode.SUBTRACT)
        with Locations(Location((-100, 60, 0), (0, 0, 270))):
            Circle(SK_1_R, mode=Mode.SUBTRACT)
        with Locations(Location((-76, 60, 0), (0, 0, 270))):
            Circle(SK_1_R, mode=Mode.SUBTRACT)
        with Locations(Location((-52, 60, 0), (0, 0, 270))):
            Circle(SK_1_R, mode=Mode.SUBTRACT)
        with Locations(Location((-28, 60, 0), (0, 0, 270))):
            Circle(SK_1_R, mode=Mode.SUBTRACT)
        with Locations(Location((-4, 60, 0), (0, 0, 270))):
            Circle(SK_1_R, mode=Mode.SUBTRACT)
        with Locations(Location((20, 60, 0), (0, 0, 270))):
            Circle(SK_1_R, mode=Mode.SUBTRACT)
        with Locations(Location((44, 60, 0), (0, 0, 270))):
            Circle(SK_1_R, mode=Mode.SUBTRACT)
        with Locations(Location((-148, 84, 0), (0, 0, 270))):
            Circle(SK_1_R, mode=Mode.SUBTRACT)
        with Locations(Location((-124, 84, 0), (0, 0, 270))):
            Circle(SK_1_R, mode=Mode.SUBTRACT)
        with Locations(Location((-100, 84, 0), (0, 0, 270))):
            Circle(SK_1_R, mode=Mode.SUBTRACT)
        with Locations(Location((-76, 84, 0), (0, 0, 270))):
            Circle(SK_1_R, mode=Mode.SUBTRACT)
        with Locations(Location((-52, 84, 0), (0, 0, 270))):
            Circle(SK_1_R, mode=Mode.SUBTRACT)
        with Locations(Location((-28, 84, 0), (0, 0, 270))):
            Circle(SK_1_R, mode=Mode.SUBTRACT)
        with Locations(Location((-4, 84, 0), (0, 0, 270))):
            Circle(SK_1_R, mode=Mode.SUBTRACT)
        with Locations(Location((20, 84, 0), (0, 0, 270))):
            Circle(SK_1_R, mode=Mode.SUBTRACT)
        with Locations(Location((44, 84, 0), (0, 0, 270))):
            Circle(SK_1_R, mode=Mode.SUBTRACT)
        with Locations(Location((-148, 108, 0), (0, 0, 270))):
            Circle(SK_1_R, mode=Mode.SUBTRACT)
        with Locations(Location((-124, 108, 0), (0, 0, 270))):
            Circle(SK_1_R, mode=Mode.SUBTRACT)
        with Locations(Location((-100, 108, 0), (0, 0, 270))):
            Circle(SK_1_R, mode=Mode.SUBTRACT)
        with Locations(Location((-76, 108, 0), (0, 0, 270))):
            Circle(SK_1_R, mode=Mode.SUBTRACT)
        with Locations(Location((-52, 108, 0), (0, 0, 270))):
            Circle(SK_1_R, mode=Mode.SUBTRACT)
        with Locations(Location((-28, 108, 0), (0, 0, 270))):
            Circle(SK_1_R, mode=Mode.SUBTRACT)
        with Locations(Location((-4, 108, 0), (0, 0, 270))):
            Circle(SK_1_R, mode=Mode.SUBTRACT)
        with Locations(Location((20, 108, 0), (0, 0, 270))):
            Circle(SK_1_R, mode=Mode.SUBTRACT)
        with Locations(Location((44, 108, 0), (0, 0, 270))):
            Circle(SK_1_R, mode=Mode.SUBTRACT)
        with Locations(Location((-172, -84, 0), (0, 0, 270))):
            Circle(SK_1_R, mode=Mode.SUBTRACT)
        with Locations(Location((-172, -60, 0), (0, 0, 270))):
            Circle(SK_1_R, mode=Mode.SUBTRACT)
        with Locations(Location((-172, -36, 0), (0, 0, 270))):
            Circle(SK_1_R, mode=Mode.SUBTRACT)
        with Locations(Location((-172, -12, 0), (0, 0, 270))):
            Circle(SK_1_R, mode=Mode.SUBTRACT)
        with Locations(Location((-172, 12, 0), (0, 0, 270))):
            Circle(SK_1_R, mode=Mode.SUBTRACT)
        with Locations(Location((-172, 36, 0), (0, 0, 270))):
            Circle(SK_1_R, mode=Mode.SUBTRACT)
        with Locations(Location((-172, 60, 0), (0, 0, 270))):
            Circle(SK_1_R, mode=Mode.SUBTRACT)
        with Locations(Location((-172, 84, 0), (0, 0, 270))):
            Circle(SK_1_R, mode=Mode.SUBTRACT)
        with Locations(Location((-172, 108, 0), (0, 0, 270))):
            Circle(SK_1_R, mode=Mode.SUBTRACT)
    extrude(amount=WAFFLE_PLATE_DEPTH)

    # SK_2 → Arm_Cutout (cut, two sides: drawn at the far end of the back side and taken through both)
    with BuildSketch(Plane(origin=(0, 0, 0), x_dir=(1, 0, 0), z_dir=(0, 1, 0)).offset(-ARM_CUTOUT_DEPTH_BACK)):
        with BuildLine():
            Line((-115, -16), (-69, -16))
            ThreePointArc((-69, -16), (-67.585786438, -15.414213562), (-67, -14))
            Line((-67, -14), (-67, 14))
            ThreePointArc((-67, 14), (-67.585786438, 15.414213562), (-69, 16))
            Line((-69, 16), (-115, 16))
            ThreePointArc((-115, 16), (-116.414213562, 15.414213562), (-117, 14))
            Line((-117, 14), (-117, -14))
            ThreePointArc((-117, -14), (-116.414213562, -15.414213562), (-115, -16))
        make_face()
    extrude(amount=ARM_CUTOUT_DEPTH + ARM_CUTOUT_DEPTH_BACK, mode=Mode.SUBTRACT)


solid = part.part
